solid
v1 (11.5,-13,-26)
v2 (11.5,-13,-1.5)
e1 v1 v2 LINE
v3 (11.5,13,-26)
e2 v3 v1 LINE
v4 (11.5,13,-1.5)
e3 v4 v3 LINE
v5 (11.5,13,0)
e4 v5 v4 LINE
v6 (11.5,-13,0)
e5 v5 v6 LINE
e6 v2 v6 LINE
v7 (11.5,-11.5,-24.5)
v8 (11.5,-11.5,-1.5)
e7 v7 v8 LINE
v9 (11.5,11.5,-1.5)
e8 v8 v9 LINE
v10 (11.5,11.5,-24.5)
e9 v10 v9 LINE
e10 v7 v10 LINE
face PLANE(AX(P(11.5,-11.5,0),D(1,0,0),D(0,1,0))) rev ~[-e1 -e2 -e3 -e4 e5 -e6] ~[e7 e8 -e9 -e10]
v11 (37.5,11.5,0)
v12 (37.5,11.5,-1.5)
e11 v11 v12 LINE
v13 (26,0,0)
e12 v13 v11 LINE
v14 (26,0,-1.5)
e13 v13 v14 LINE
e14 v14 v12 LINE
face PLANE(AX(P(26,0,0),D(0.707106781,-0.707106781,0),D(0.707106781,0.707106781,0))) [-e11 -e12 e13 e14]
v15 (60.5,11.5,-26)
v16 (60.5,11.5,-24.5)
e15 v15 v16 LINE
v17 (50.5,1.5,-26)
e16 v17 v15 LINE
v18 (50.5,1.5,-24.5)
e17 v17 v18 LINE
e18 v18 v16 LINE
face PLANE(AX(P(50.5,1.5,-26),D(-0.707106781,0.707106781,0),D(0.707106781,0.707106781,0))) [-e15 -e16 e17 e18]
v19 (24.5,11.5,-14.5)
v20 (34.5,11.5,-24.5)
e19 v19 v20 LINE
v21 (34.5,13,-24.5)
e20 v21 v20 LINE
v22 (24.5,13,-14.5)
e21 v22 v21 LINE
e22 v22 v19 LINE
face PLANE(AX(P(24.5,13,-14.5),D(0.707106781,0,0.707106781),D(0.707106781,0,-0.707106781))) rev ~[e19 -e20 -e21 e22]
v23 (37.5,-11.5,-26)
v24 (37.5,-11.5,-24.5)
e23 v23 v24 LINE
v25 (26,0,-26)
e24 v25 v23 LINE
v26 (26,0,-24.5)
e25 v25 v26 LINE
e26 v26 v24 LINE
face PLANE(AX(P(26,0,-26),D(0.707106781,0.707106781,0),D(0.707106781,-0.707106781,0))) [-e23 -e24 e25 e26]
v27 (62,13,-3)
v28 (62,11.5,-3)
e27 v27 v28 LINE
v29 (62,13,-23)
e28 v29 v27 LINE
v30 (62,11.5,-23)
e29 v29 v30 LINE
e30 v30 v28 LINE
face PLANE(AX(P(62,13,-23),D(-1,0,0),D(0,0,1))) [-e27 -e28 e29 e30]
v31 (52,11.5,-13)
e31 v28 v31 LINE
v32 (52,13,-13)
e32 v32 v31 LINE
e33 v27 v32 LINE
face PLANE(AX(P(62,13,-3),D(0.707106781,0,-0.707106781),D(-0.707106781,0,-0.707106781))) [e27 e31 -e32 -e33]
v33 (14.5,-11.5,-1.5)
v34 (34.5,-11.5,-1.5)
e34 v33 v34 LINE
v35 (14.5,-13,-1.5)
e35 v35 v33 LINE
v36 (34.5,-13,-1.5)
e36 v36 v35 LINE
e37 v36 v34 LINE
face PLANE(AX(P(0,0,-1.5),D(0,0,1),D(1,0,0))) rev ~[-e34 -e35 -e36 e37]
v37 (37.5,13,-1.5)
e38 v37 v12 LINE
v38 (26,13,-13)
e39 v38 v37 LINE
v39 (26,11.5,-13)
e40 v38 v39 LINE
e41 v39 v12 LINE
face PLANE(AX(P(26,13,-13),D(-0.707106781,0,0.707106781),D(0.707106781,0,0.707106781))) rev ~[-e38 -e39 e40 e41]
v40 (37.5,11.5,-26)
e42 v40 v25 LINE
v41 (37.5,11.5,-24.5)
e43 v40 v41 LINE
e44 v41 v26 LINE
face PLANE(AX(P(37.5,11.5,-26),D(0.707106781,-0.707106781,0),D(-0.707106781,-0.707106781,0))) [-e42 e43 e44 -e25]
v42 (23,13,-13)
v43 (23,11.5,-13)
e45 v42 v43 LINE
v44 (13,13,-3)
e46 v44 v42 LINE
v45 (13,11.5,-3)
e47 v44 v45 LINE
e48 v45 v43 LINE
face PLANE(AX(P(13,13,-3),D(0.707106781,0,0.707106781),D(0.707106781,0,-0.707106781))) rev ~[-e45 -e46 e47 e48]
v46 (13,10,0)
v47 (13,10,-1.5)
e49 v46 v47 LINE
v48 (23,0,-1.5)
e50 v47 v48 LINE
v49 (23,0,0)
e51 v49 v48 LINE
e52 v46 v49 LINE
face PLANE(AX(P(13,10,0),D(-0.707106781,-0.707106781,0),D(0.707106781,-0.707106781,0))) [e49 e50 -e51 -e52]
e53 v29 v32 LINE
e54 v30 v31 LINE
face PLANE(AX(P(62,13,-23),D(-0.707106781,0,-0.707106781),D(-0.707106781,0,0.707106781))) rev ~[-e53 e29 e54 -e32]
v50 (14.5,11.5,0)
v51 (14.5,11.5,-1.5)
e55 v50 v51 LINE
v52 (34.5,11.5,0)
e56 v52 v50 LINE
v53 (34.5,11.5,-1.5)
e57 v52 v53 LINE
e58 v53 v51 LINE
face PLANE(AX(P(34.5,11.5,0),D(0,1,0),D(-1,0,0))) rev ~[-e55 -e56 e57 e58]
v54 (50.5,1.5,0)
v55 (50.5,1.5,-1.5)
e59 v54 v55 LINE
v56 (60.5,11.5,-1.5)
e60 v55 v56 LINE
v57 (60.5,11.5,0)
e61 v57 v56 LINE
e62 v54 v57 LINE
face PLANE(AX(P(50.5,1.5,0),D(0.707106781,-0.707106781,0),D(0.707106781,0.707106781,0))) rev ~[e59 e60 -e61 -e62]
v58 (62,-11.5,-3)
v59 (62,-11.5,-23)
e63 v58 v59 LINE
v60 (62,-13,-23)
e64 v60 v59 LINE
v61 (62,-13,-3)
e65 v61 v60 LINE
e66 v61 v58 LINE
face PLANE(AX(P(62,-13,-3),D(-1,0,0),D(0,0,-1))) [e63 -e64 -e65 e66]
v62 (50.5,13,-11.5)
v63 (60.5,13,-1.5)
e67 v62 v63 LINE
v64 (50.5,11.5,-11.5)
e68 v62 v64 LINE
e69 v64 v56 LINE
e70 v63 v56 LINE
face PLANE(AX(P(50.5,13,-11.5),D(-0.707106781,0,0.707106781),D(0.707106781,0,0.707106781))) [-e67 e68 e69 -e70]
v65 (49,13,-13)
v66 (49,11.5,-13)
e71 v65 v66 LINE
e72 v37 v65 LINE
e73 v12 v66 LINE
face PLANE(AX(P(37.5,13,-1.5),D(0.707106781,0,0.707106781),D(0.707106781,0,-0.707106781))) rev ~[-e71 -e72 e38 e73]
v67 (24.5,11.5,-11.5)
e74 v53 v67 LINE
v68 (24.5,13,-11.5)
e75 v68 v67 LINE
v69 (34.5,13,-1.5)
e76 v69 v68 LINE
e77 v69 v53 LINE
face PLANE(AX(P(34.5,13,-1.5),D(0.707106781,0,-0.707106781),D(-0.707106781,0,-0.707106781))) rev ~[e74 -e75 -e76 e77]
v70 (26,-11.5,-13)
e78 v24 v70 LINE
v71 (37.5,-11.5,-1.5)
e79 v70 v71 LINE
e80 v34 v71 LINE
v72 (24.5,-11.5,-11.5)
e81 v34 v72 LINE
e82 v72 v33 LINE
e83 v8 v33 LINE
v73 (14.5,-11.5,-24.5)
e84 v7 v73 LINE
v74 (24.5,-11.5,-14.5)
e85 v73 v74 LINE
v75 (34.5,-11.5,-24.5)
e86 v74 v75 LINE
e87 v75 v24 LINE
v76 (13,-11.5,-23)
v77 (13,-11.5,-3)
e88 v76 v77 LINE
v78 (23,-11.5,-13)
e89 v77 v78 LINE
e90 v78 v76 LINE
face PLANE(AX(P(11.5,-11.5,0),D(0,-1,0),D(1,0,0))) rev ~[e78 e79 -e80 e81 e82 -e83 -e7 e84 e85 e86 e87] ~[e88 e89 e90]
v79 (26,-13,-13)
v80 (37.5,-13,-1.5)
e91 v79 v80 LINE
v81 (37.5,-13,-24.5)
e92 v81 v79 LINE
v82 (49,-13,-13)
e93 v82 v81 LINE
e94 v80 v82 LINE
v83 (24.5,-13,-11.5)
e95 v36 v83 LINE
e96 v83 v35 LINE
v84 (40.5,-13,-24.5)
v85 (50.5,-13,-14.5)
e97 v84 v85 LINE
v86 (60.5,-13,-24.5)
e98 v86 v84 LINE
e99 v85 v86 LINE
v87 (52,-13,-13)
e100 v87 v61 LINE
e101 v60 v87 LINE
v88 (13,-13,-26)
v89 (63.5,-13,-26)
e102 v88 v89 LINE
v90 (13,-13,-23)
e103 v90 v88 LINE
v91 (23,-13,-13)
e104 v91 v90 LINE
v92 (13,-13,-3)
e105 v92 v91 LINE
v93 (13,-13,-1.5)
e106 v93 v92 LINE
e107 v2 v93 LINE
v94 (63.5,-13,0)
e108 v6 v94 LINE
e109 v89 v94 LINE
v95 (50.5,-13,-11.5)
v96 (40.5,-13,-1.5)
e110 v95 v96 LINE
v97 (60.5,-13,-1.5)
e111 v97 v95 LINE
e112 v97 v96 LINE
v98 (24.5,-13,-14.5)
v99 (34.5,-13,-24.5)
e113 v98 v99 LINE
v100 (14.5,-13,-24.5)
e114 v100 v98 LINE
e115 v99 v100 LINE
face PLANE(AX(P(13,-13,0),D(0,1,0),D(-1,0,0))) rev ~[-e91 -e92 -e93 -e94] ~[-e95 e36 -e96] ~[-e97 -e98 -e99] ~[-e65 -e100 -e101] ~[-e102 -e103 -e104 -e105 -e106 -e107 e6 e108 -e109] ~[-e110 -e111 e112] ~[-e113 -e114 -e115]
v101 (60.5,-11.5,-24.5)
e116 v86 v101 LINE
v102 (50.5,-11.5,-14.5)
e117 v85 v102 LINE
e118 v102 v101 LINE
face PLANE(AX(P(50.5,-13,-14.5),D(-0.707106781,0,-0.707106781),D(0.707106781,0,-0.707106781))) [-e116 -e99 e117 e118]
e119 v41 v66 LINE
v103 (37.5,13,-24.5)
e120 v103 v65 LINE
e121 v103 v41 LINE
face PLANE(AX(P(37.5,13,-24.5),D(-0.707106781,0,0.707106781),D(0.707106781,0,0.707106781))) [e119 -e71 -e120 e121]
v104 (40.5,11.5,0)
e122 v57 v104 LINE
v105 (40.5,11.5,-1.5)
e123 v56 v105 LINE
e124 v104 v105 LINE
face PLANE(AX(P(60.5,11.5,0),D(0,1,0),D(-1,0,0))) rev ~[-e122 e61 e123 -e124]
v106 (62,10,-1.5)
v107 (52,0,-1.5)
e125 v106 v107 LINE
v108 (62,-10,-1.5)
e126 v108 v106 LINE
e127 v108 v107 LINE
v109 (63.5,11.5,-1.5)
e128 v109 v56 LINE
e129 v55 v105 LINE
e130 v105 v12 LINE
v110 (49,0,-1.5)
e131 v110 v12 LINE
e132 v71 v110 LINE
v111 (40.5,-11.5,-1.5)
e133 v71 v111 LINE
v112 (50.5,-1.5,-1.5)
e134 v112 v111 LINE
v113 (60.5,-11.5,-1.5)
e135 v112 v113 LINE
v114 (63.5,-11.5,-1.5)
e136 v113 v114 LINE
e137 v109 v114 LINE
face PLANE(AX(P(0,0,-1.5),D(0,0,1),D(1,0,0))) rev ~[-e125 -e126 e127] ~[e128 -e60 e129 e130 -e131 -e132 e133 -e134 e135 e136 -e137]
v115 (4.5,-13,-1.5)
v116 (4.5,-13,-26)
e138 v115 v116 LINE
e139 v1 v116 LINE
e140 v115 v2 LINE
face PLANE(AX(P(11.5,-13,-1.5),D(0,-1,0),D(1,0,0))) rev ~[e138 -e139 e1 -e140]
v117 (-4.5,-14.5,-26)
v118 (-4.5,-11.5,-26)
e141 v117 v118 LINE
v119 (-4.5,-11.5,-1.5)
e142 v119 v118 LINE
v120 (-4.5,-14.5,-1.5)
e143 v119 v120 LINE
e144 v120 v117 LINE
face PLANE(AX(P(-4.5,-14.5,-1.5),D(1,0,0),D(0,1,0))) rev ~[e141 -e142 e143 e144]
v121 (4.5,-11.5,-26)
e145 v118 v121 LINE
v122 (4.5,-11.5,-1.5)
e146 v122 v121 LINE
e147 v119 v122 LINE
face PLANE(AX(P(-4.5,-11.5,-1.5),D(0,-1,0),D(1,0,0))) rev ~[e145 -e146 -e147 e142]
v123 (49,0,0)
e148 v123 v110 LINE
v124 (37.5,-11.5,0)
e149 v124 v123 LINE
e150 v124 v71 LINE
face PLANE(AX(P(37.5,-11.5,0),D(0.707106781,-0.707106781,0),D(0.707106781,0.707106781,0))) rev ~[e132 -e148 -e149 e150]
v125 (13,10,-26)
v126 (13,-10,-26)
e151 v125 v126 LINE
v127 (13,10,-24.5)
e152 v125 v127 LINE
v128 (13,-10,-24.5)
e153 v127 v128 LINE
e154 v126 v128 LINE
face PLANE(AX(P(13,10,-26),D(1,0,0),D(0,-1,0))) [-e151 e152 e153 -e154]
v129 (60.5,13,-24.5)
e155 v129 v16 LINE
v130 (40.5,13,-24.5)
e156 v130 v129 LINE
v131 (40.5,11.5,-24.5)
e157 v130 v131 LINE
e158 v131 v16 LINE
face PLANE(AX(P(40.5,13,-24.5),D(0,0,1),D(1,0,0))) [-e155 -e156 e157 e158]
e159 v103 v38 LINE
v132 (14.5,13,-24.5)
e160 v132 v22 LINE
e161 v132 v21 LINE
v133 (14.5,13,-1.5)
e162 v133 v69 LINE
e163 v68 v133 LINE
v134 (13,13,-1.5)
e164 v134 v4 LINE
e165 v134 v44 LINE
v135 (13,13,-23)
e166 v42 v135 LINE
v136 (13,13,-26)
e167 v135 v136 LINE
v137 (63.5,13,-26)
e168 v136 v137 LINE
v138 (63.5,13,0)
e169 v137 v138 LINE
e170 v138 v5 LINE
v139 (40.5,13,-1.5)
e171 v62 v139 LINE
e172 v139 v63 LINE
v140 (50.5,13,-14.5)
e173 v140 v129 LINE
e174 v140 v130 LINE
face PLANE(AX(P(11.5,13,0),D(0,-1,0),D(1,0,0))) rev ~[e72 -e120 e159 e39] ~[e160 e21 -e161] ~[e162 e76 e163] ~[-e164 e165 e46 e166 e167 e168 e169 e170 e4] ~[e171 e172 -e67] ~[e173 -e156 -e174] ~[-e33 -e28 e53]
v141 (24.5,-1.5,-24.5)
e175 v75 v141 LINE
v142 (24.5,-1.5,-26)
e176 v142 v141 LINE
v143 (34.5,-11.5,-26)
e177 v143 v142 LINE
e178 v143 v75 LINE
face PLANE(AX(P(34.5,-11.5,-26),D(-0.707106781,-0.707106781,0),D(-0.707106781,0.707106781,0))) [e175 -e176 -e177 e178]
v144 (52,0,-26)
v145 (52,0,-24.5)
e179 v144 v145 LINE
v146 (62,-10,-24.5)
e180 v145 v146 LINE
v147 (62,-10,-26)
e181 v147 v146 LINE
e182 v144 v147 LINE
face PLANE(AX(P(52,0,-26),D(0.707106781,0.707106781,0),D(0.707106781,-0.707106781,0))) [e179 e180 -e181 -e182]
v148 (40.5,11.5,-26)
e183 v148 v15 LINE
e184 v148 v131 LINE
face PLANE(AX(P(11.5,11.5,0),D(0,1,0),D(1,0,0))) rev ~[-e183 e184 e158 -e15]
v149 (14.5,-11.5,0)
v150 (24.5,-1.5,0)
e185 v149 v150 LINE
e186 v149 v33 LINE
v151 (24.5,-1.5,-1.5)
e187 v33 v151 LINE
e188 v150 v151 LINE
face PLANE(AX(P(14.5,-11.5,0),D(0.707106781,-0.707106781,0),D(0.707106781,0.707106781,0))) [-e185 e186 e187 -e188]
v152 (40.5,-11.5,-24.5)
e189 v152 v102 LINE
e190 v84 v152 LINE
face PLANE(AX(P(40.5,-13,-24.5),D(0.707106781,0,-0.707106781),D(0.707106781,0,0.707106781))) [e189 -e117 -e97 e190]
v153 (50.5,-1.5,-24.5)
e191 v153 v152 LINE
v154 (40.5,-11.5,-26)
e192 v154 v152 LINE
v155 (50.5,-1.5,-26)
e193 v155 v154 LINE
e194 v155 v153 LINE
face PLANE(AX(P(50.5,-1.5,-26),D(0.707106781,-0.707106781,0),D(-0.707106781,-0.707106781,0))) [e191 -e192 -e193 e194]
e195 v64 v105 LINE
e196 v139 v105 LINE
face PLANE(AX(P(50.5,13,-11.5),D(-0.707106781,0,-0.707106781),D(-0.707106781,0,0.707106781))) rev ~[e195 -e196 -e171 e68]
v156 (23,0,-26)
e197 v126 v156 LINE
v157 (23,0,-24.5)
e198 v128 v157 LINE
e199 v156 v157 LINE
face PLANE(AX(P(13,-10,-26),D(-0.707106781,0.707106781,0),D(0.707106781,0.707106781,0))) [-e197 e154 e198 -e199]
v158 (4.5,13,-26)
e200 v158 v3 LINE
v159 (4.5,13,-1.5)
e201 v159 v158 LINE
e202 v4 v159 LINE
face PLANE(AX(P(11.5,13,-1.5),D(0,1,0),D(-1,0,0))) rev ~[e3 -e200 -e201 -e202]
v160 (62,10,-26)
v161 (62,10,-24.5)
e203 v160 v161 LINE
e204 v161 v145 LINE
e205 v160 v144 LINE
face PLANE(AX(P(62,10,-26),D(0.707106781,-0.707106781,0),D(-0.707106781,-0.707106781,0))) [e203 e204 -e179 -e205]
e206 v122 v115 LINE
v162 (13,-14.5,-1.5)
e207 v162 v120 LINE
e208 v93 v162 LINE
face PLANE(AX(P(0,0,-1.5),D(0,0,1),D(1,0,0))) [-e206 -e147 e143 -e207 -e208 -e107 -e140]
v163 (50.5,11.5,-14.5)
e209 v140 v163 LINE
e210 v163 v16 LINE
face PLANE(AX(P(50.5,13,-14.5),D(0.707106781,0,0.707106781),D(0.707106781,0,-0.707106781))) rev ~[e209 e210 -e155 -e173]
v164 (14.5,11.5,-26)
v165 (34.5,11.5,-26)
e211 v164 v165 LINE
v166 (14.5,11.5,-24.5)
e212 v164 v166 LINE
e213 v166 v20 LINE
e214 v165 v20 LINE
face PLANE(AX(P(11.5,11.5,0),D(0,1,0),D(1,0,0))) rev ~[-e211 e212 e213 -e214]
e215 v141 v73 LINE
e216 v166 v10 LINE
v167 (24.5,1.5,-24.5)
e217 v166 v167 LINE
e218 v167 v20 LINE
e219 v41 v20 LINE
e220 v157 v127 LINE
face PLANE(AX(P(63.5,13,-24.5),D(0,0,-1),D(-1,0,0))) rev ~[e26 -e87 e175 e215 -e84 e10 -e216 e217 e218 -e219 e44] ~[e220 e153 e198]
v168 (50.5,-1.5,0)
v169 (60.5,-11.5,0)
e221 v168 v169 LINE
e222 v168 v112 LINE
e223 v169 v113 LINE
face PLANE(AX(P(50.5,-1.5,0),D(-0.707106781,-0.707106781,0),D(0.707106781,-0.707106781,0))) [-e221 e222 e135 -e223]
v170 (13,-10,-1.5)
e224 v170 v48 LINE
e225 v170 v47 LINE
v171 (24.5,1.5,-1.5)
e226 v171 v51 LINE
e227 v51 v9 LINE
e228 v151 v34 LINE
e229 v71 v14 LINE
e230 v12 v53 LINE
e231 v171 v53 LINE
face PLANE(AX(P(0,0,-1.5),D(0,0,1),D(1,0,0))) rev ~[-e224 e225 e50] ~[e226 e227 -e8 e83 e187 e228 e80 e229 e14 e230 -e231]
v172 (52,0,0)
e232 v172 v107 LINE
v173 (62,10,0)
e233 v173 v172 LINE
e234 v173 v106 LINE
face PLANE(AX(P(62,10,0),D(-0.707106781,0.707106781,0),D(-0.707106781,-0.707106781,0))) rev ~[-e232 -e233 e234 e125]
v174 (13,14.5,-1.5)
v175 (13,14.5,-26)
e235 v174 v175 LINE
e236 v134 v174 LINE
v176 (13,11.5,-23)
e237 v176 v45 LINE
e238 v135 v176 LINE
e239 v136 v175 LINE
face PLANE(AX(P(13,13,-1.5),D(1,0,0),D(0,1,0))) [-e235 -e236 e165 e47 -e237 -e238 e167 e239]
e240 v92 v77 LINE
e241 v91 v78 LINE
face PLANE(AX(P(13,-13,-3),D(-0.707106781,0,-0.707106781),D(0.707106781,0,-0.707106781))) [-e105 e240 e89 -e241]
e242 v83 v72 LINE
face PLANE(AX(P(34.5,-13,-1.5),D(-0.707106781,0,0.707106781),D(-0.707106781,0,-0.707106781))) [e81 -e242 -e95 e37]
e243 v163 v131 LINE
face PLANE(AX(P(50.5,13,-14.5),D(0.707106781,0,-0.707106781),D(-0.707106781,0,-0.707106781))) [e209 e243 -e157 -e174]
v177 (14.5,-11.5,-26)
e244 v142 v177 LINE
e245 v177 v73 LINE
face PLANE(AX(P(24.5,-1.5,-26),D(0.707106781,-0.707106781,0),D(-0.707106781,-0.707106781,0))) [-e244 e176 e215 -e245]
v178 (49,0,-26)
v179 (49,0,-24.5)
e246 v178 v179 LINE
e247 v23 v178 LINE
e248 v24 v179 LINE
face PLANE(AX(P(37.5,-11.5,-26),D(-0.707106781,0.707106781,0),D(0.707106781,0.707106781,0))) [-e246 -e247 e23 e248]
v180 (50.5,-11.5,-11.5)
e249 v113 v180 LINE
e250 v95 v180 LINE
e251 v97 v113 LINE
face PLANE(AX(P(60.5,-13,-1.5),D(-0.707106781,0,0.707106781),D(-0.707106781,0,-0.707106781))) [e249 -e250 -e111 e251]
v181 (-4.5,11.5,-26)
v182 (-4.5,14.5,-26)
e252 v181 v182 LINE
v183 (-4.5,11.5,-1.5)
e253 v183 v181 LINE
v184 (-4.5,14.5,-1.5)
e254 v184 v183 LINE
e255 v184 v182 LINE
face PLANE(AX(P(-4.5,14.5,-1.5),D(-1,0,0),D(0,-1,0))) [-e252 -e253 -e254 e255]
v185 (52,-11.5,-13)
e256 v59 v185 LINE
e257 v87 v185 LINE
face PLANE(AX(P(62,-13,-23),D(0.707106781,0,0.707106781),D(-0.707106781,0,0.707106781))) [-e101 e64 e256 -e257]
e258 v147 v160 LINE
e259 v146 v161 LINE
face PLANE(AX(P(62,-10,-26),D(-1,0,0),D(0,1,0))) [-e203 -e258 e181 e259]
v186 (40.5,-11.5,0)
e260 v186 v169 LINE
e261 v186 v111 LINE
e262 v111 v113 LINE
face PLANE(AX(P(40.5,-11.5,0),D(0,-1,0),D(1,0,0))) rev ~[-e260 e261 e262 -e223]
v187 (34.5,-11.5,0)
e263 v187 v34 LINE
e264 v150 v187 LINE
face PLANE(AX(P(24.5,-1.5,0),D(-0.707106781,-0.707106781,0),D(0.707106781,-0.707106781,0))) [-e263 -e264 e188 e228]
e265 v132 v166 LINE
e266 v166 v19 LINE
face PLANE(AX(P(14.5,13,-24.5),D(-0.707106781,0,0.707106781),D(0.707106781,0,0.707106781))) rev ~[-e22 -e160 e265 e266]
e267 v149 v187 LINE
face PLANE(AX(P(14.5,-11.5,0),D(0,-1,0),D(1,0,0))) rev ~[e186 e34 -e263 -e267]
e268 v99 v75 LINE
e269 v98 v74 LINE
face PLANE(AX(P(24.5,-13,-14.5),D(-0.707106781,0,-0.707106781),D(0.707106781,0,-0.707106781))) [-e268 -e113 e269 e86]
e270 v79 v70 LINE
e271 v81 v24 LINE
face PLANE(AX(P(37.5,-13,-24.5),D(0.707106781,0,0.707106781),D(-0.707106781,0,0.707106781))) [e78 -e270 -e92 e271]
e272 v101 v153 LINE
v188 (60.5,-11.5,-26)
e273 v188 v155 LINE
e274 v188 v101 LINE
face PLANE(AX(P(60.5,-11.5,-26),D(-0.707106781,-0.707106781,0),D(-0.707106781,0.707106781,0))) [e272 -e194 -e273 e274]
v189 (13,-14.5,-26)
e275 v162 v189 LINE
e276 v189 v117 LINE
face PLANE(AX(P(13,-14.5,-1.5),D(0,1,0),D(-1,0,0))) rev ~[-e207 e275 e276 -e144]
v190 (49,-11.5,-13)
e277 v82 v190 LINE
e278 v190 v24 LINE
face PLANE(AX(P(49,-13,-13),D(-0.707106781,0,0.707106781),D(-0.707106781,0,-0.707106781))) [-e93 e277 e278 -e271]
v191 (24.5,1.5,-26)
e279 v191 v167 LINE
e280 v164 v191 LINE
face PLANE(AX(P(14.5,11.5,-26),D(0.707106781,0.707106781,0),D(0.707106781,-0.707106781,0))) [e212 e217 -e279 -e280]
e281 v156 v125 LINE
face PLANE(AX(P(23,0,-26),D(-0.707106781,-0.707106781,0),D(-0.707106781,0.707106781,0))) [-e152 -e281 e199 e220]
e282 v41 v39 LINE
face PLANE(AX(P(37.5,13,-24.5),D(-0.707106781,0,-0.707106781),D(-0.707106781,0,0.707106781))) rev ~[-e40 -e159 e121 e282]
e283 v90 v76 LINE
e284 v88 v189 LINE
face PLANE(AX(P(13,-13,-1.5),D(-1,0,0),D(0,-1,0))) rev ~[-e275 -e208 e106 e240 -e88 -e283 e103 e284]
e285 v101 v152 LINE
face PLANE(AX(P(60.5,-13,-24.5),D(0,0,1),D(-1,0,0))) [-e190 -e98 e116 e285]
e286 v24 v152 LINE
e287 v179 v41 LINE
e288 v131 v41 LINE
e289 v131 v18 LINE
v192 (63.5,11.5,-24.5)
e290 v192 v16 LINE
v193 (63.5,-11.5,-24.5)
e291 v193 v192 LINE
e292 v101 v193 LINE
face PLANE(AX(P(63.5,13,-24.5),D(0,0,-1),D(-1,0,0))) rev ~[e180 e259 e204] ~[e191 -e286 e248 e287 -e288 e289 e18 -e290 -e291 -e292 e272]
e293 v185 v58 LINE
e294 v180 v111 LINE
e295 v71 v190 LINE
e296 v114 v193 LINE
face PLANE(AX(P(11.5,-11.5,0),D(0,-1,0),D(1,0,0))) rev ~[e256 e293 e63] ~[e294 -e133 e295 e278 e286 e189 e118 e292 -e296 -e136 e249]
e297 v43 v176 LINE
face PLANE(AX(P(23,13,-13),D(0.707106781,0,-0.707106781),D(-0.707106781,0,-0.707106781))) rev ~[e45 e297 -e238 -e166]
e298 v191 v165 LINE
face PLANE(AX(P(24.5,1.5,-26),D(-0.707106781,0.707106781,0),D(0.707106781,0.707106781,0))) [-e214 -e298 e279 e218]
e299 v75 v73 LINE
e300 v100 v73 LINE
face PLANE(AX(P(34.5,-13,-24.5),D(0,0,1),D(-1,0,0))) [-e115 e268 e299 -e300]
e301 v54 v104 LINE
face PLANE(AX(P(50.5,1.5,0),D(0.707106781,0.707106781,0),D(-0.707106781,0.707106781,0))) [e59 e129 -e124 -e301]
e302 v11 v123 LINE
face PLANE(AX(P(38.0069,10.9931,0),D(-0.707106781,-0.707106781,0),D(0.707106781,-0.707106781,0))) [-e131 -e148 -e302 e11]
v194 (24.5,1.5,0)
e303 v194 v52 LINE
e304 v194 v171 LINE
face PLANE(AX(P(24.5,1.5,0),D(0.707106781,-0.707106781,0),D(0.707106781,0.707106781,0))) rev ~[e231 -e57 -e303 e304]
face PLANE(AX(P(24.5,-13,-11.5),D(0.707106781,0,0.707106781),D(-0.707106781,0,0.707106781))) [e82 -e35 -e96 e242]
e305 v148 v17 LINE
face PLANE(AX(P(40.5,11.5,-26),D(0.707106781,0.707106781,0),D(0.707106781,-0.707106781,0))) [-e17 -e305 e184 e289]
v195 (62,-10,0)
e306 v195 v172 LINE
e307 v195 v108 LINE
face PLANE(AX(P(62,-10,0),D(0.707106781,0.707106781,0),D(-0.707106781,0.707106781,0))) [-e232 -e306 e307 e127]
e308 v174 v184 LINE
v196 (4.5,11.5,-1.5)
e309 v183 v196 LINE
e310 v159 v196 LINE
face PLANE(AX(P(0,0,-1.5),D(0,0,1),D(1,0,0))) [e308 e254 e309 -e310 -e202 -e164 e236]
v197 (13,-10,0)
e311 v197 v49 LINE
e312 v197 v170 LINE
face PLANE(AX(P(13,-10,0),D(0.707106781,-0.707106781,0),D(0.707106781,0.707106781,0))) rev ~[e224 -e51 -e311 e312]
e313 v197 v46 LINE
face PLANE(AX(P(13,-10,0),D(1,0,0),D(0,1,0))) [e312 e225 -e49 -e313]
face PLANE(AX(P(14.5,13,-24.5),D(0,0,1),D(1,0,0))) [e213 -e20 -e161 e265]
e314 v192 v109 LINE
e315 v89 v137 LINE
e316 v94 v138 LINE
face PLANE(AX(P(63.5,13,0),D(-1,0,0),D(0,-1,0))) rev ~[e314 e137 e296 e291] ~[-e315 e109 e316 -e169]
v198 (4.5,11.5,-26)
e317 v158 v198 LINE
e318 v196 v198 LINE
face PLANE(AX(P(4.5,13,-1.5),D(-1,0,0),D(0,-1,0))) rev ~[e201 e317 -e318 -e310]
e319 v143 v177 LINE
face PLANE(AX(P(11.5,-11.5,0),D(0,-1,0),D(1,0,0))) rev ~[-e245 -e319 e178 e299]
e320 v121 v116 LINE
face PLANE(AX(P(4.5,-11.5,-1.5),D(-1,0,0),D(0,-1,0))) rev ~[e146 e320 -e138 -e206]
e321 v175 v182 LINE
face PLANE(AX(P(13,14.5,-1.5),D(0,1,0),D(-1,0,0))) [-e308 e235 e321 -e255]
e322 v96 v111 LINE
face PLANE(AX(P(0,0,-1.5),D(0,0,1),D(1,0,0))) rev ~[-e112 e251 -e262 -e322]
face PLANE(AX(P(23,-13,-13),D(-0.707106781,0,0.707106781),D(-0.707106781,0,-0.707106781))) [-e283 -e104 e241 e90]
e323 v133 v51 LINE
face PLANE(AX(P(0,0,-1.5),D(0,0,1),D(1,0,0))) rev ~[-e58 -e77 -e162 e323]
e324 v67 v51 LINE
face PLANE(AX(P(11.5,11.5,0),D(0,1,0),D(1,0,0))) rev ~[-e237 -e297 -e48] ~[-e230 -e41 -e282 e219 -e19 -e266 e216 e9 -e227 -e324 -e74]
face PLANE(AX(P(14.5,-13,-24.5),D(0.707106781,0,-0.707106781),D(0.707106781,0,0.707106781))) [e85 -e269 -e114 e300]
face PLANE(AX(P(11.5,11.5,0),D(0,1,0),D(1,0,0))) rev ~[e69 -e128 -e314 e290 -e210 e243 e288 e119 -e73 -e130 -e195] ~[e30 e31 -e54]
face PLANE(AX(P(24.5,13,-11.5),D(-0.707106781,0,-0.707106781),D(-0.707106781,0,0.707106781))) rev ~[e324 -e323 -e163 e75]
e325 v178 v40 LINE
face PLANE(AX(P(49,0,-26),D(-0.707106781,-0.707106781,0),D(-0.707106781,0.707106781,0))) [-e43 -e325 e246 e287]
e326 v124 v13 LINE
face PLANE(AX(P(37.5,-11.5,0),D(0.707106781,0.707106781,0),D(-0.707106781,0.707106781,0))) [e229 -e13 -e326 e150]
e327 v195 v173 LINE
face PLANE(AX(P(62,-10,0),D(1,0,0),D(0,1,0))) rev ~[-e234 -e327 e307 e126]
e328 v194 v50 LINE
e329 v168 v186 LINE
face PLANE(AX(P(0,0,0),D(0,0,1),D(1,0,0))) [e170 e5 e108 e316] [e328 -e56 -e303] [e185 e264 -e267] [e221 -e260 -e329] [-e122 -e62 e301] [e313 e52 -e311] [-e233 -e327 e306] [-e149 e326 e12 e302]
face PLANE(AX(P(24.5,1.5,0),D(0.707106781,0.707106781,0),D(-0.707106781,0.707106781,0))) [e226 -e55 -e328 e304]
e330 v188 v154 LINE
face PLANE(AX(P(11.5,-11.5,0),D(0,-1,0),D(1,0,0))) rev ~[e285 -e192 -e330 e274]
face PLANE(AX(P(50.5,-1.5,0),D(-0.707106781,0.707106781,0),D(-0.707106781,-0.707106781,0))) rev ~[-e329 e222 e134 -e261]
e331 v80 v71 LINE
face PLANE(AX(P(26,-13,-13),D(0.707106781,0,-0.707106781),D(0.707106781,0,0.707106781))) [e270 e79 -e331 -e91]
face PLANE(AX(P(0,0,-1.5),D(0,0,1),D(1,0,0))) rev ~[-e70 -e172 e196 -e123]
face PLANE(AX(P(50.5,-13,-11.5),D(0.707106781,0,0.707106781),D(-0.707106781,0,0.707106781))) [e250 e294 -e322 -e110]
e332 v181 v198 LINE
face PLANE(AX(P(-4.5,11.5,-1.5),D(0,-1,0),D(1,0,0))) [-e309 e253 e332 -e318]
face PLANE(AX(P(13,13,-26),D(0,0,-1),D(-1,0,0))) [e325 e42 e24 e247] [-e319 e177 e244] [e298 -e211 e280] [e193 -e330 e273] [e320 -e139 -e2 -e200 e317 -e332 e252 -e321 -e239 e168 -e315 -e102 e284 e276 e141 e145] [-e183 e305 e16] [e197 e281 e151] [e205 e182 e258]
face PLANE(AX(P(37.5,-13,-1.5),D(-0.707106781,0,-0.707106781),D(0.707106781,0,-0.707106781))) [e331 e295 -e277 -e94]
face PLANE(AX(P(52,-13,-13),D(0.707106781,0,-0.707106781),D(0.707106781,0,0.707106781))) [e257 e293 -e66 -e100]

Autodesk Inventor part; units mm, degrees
ref_plane "YZ Plane" through (0, 0, 0) normal (1, 0, 0) x (0, 1, 0)
ref_plane "XZ Plane" through (0, 0, 0) normal (0, 1, 0) x (-1, 0, 0)
ref_plane "XY Plane" through (0, 0, 0) normal (0, 0, 1) x (1, 0, 0)
sketch "スケッチ1" plane through (0, 0, 0) normal (0, 0, 1) x (1, 0, 0)
  line L0 (-11.5, 13) -> (-11.5, -13) projected
  line L1 (11.5, 13) -> (-11.5, 13) projected
  line L2 (11.5, -13) -> (11.5, 13) projected
  line L3 (-11.5, -13) -> (11.5, -13) projected
  line L4 (11.5, 13) -> (63.5, 13)
  line L5 (63.5, 13) -> (63.5, -13)
  line L6 (63.5, -13) -> (11.5, -13)
  line L7 (11.5, -13) -> (11.5, 13)
  line L8 (37.5, 13) -> (37.5, -13)
  line L9 (11.5, 13) -> (37.5, -13)
  line L10 (37.5, 13) -> (11.5, -13)
  line L11 (63.5, 13) -> (37.5, -13)
  line L12 (37.5, 13) -> (63.5, -13)
  line L13 (13, -11.5) -> (62, -11.5)
  line L14 (62, 11.5) -> (13, 11.5)
  line L15 (13, -11.5) -> (13, 11.5)
  line L16 (62, -11.5) -> (62, 11.5)
  line L17 (13, -13) -> (37.5, 11.5)
  line L18 (11.5, -11.5) -> (36, 13)
  line L19 (37.5, -11.5) -> (14.5, 11.5)
  line L20 (13, 10) -> (36, -13)
  line L21 (37.5, -11.5) -> (60.5, 11.5)
  line L22 (62, 10) -> (39, -13)
  line L23 (38.0069, 10.9931) -> (60.5, -11.5)
  line L24 (62, -10) -> (39, 13)
  line L25 (37.5, 11.5) -> (60.5, -11.5)
  point P0 (0, 0)
  point P1 (49, 0)
  point P2 (26, 0)
  point P3 (13, -10)
  point P4 (23, 0)
  point P5 (34.5, 11.5)
  point P6 (24.5, 1.5)
  point P7 (14.5, -11.5)
  point P8 (24.5, -1.5)
  point P9 (34.5, -11.5)
  point P10 (40.5, -11.5)
  point P11 (50.5, -1.5)
  point P12 (52, 0)
  point P13 (40.5, 11.5)
  point P14 (50.5, 1.5)
  dimension "d0" = 52
  dimension "d1" = 26
  dimension "d2" = 1.5
extrude "押し出し1" add sketch "スケッチ1" against normal blind 1.5 contours L9 L15 L18 L2 | L4 L18 L14 L9 | L10 L13 L17 L6 | L2 L18 L15 L10 | L4 L10 L14 L18 | L14 L19 L18 L9 | L9 L18 L20 L15 | L17 L13 L20 L6 | L15 L18 L20 L10 | L10 L20 L17 L13 | L12 L14 L8 | L8 L14 L10 | L4 L24 L14 L12 | L14 L10 L19 L18 | L18 L19 L10 L9 | L9 L10 L20 L18 | L20 L13 L9 L6 | L10 L9 L17 L20 | L4 L11 L14 L24 | L17 L19 L10 L14 | L14 L12 L21 L23 L25 | L14 L24 L21 L12 | L10 L19 L17 L9 | L11 L13 L22 L6 | L9 L13 L8 | L8 L13 L11 | L20 L17 L9 L13 | L5 L12 L16 L11 | L21 L23 L11 L13 | L13 L9 L17 L19 | L21 L24 L11 L12 | L12 L11 L23 L21 | L22 L13 L12 L6 | L11 L23 L22 L13 | L16 L22 L24 L11 | L11 L24 L21 L14 | L12 L22 L23 L11 | L11 L24 L22 L12 | L13 L23 L22 L12 | L12 L22 L24 L16
sketch "スケッチ5" plane through (11.5, 13, 0) normal (0, 1, 0) x (1, 0, 0)
  line L0 (-7, 32) -> (0, 32) projected
  line L1 (0, 32) -> (0, 0) projected
  line L2 (0, 0) -> (-23, 0) projected
  line L3 (52, 0) -> (0, 0) projected
  line L4 (52, 0) -> (52, 26)
  line L5 (52, 26) -> (0, 26)
  line L6 (1.5, 26) -> (1.5, 0)
  line L7 (0, 24.5) -> (52, 24.5)
  line L8 (50.5, 26) -> (50.5, 0)
  line L9 (0, 1.5) -> (52, 1.5) projected
  line L10 (26, 1.5) -> (26, 26)
  line L11 (0, 26) -> (26, 0)
  line L12 (52, 26) -> (26, 0)
  line L13 (1.5, 26) -> (26, 1.5)
  line L14 (26, 1.5) -> (50.5, 26)
  line L15 (52, 24.5) -> (27.5, 0)
  line L16 (24.5, 0) -> (0, 24.5)
  line L17 (0, 0) -> (26, 26)
  line L18 (26, 26) -> (52, 0)
  line L19 (52, 1.5) -> (27.5, 26)
  line L20 (26, 24.5) -> (50.5, 0)
  line L21 (26, 24.5) -> (1.5, 0)
  line L22 (0, 1.5) -> (24.5, 26)
  point P0 (-11.5, 0)
  point P1 (49, 1.5)
  point P2 (29, 1.5)
  point P3 (39, 11.5)
  point P4 (14.5, 13)
  point P5 (37.5, 13)
  point P6 (3, 1.5)
  point P7 (13, 11.5)
  point P8 (23, 1.5)
  point P9 (50.5, 3)
  point P10 (40.5, 13)
  point P11 (50.5, 23)
  point P12 (29, 24.5)
  point P13 (49, 24.5)
  point P14 (39, 14.5)
  point P15 (1.5, 3)
  point P16 (1.5, 23)
  point P17 (11.5, 13)
  point P18 (3, 24.5)
  point P19 (23, 24.5)
  point P20 (13, 14.5)
  dimension "d7" = 26
  dimension "d8" = 1.5
  dimension "d9" = 1.5
  dimension "d10" = 1.5
extrude "押し出し2" add sketch "スケッチ5" against normal blind 1.5 contours L11 L7 L1 | L5 L6 L11 | L16 L6 L22 L1 | L7 L6 L16 | L13 L7 L6 | L5 L22 L7 L13 | L11 L22 L16 L6 | L7 L13 L22 L11 | L9 L17 L1 | L22 L6 L9 | L5 L17 L7 L22 | L22 L13 L17 L11 | L11 L17 L16 L22 | L17 L6 L3 | L9 L21 L6 | L17 L16 L21 L9 | L6 L22 L16 L17 | L18 L7 L10 | L10 L7 L17 | L5 L19 L7 L18 | L7 L17 L13 L22 | L17 L13 L21 L11 | L11 L21 L16 L17 | L21 L9 L16 L3 | L5 L14 L7 L19 | L21 L13 L17 L7 | L7 L18 L14 L20 | L7 L19 L14 L18 | L21 L13 L9 L11 | L11 L9 L16 L21 | L16 L9 L11 L3 | L5 L12 L8 | L8 L7 L14 | L9 L12 L11 | L14 L20 L12 L9 | L14 L18 L12 L20 | L14 L19 L12 L18 | L12 L9 L15 L3 | L4 L7 L12 | L12 L19 L14 L7 | L7 L15 L8 | L8 L15 L19 L12 | L12 L20 L15 L9 | L12 L18 L15 L20 | L12 L19 L15 L18 | L15 L9 L20 L3 | L4 L19 L8 L15 | L15 L18 L9 L20 | L15 L19 L8 L18 | L8 L18 L3 | L20 L9 L8 | L4 L18 L9 | L9 L8 L19
sketch "スケッチ6" plane through (11.5, -13, 0) normal (0, -1, 0) x (1, 0, 0)
  line L0 (1.5, -3) -> (11.5, -13) projected
  line L1 (13, -11.5) -> (3, -1.5) projected
  line L2 (52, -1.5) -> (0, -1.5) projected
  line L3 (0, 0) -> (52, 0) projected
  line L4 (0, -32) -> (0, 0) projected
  line L5 (1.5, -23) -> (1.5, -3) projected
  line L6 (11.5, -13) -> (1.5, -23) projected
  line L7 (3, -24.5) -> (13, -14.5) projected
  line L8 (23, -24.5) -> (3, -24.5) projected
  line L9 (0, -26) -> (52, -26) projected
  line L10 (13, -14.5) -> (23, -24.5) projected
  line L11 (26, -24.5) -> (14.5, -13) projected
  line L12 (14.5, -13) -> (26, -1.5) projected
  line L13 (23, -1.5) -> (13, -11.5) projected
  line L14 (39, -11.5) -> (29, -1.5) projected
  line L15 (26, -1.5) -> (37.5, -13) projected
  line L16 (29, -24.5) -> (39, -14.5) projected
  line L17 (37.5, -13) -> (26, -24.5) projected
  line L18 (49, -24.5) -> (29, -24.5) projected
  line L19 (39, -14.5) -> (49, -24.5) projected
  line L20 (50.5, -23) -> (40.5, -13) projected
  line L21 (50.5, -3) -> (50.5, -23) projected
  line L22 (52, -26) -> (52, -1.5) projected
  line L23 (40.5, -13) -> (50.5, -3) projected
  line L24 (49, -1.5) -> (39, -11.5) projected
  line L25 (52, 0) -> (52, -1.5) projected
  point P0 (-11.5, 0)
extrude "押し出し3" add sketch "スケッチ6" against normal blind 1.5 contours L13 L2 L14 L24 L22 L9 L4 L1 | L2 L4 L3 L25
sketch "スケッチ7" plane through (63.5, 13, -26) normal (0, 0, -1) x (-1, 0, 0)
  line L0 (50.5, -3) -> (50.5, -23) projected
  line L1 (40.5, -13) -> (50.5, -3) projected
  line L2 (49, -1.5) -> (39, -11.5) projected
  line L3 (52, -1.5) -> (0, -1.5) projected
  line L4 (39, -11.5) -> (29, -1.5) projected
  line L5 (26, -1.5) -> (37.5, -13) projected
  line L6 (37.5, -13) -> (26, -24.5) projected
  line L7 (29, -24.5) -> (39, -14.5) projected
  line L8 (39, -14.5) -> (49, -24.5) projected
  line L9 (0, -24.5) -> (52, -24.5) projected
  line L10 (52, 0) -> (52, -7) projected
  line L11 (52, -19) -> (52, -7) projected
  line L12 (52, -19) -> (52, -26) projected
  line L13 (52, -26) -> (0, -26) projected
  line L14 (0, 0) -> (52, 0) projected
  line L15 (14.5, -13) -> (26, -1.5) projected
  line L16 (26, -24.5) -> (14.5, -13) projected
  line L17 (13, -14.5) -> (23, -24.5) projected
  line L18 (3, -24.5) -> (13, -14.5) projected
  line L19 (11.5, -13) -> (1.5, -23) projected
  line L20 (1.5, -3) -> (11.5, -13) projected
  line L21 (13, -11.5) -> (3, -1.5) projected
  line L22 (23, -1.5) -> (13, -11.5) projected
  line L23 (1.5, -23) -> (1.5, -3) projected
  line L24 (0, -1.5) -> (0, -24.5) projected
  line L25 (0, 0) -> (0, -1.5) projected
  line L26 (0, -26) -> (0, -24.5) projected
  line L27 (50.5, -23) -> (40.5, -13) projected
  point P0 (63.5, -13)
extrude "押し出し4" add sketch "スケッチ7" against normal blind 1.5 contours L3 L10 L11 L12 L9 L8 L7 L6 L5 L4 L2 | L3 L25 L14 L10 | L15 L16 L9 L17 L18 L24 L3 L21 L22 | L12 L13 L26 L9
sketch "スケッチ8" plane through (0, 0, 0) normal (0, 0, 1) x (1, 0, 0)
  line L0 (11.5, 13) -> (-11.5, 13) projected
  line L1 (11.5, -13) -> (11.5, 13) projected
  line L2 (11.5, 13) -> (-11.5, 13) projected
  line L3 (-11.5, 13) -> (-11.5, -13) projected
  line L4 (-11.5, -13) -> (11.5, -13) projected
  circle A0 centre (0, 0) radius 5 projected
  line L5 (40.5, -11.5) -> (50.5, -1.5) projected
  line L6 (50.5, -1.5) -> (60.5, -11.5) projected
  line L7 (60.5, -11.5) -> (40.5, -11.5) projected
  line L8 (63.5, -13) -> (63.5, 13) projected
  line L9 (63.5, 13) -> (11.5, 13) projected
  line L10 (11.5, 13) -> (11.5, -13) projected
  line L11 (11.5, -13) -> (63.5, -13) projected
  line L12 (37.5, -11.5) -> (26, 0) projected
  line L13 (26, 0) -> (37.5, 11.5) projected
  line L14 (37.5, 11.5) -> (49, 0) projected
  line L15 (49, 0) -> (37.5, -11.5) projected
  line L16 (34.5, -11.5) -> (14.5, -11.5) projected
  line L17 (14.5, -11.5) -> (24.5, -1.5) projected
  line L18 (24.5, -1.5) -> (34.5, -11.5) projected
  line L19 (34.5, 11.5) -> (24.5, 1.5) projected
  line L20 (24.5, 1.5) -> (14.5, 11.5) projected
  line L21 (14.5, 11.5) -> (34.5, 11.5) projected
  line L22 (40.5, 11.5) -> (60.5, 11.5) projected
  line L23 (60.5, 11.5) -> (50.5, 1.5) projected
  line L24 (50.5, 1.5) -> (40.5, 11.5) projected
  line L25 (13, -10) -> (13, 10) projected
  line L26 (13, 10) -> (23, 0) projected
  line L27 (23, 0) -> (13, -10) projected
  line L28 (52, 0) -> (62, 10) projected
  line L29 (62, 10) -> (62, -10) projected
  line L30 (62, -10) -> (52, 0) projected
  line L31 (13, 10) -> (13, 14.5)
  line L32 (4.5, 13) -> (4.5, 11.5) projected
  line L33 (4.5, 11.5) -> (10, 11.5) projected
  line L34 (10, 11.5) -> (10, 6) projected
  line L35 (10, 6) -> (11.5, 6) projected
  line L36 (-4.5, 11.5) -> (-4.5, 13) projected
  line L37 (-10, 11.5) -> (-4.5, 11.5) projected
  line L38 (-10, 6) -> (-10, 11.5) projected
  line L39 (-11.5, 6) -> (-10, 6) projected
  line L40 (13, 14.5) -> (-4.5, 14.5)
  line L41 (-4.5, 14.5) -> (-4.5, 11.5)
  line L42 (-4.5, 11.5) -> (4.5, 11.5)
  line L43 (4.5, 13) -> (11.5, 13)
  line L44 (-4.5, -13) -> (-4.5, -11.5) projected
  line L45 (-4.5, -11.5) -> (-10, -11.5) projected
  line L46 (-10, -11.5) -> (-10, -6) projected
  line L47 (-10, -6) -> (-11.5, -6) projected
  line L48 (4.5, -11.5) -> (4.5, -13) projected
  line L49 (10, -11.5) -> (4.5, -11.5) projected
  line L50 (10, -6) -> (10, -11.5) projected
  line L51 (11.5, -6) -> (10, -6) projected
  line L52 (13, -13) -> (23, -13) projected
  line L53 (13, -13) -> (13, -14.5)
  line L54 (13, -14.5) -> (-4.5, -14.5)
  line L55 (-4.5, -14.5) -> (-4.5, -11.5)
  line L56 (-4.5, -11.5) -> (4.5, -11.5)
  line L57 (4.5, -13) -> (4.5, -11.5)
  line L58 (4.5, -13) -> (11.5, -13)
  point P0 (13, 12.25)
  point P1 (13, 13)
  dimension "d17" = 4.5
  dimension "d19" = 1.5
extrude "押し出し5" add sketch "スケッチ8" against normal blind 24.5 from surface at -1.5 contours L0 L41 L40 L31 L9 | L32 L42 L36 L0 | L11 L53 L54 L55 L4 | L4 L44 L56 L48
properties part number "足フレーム"
